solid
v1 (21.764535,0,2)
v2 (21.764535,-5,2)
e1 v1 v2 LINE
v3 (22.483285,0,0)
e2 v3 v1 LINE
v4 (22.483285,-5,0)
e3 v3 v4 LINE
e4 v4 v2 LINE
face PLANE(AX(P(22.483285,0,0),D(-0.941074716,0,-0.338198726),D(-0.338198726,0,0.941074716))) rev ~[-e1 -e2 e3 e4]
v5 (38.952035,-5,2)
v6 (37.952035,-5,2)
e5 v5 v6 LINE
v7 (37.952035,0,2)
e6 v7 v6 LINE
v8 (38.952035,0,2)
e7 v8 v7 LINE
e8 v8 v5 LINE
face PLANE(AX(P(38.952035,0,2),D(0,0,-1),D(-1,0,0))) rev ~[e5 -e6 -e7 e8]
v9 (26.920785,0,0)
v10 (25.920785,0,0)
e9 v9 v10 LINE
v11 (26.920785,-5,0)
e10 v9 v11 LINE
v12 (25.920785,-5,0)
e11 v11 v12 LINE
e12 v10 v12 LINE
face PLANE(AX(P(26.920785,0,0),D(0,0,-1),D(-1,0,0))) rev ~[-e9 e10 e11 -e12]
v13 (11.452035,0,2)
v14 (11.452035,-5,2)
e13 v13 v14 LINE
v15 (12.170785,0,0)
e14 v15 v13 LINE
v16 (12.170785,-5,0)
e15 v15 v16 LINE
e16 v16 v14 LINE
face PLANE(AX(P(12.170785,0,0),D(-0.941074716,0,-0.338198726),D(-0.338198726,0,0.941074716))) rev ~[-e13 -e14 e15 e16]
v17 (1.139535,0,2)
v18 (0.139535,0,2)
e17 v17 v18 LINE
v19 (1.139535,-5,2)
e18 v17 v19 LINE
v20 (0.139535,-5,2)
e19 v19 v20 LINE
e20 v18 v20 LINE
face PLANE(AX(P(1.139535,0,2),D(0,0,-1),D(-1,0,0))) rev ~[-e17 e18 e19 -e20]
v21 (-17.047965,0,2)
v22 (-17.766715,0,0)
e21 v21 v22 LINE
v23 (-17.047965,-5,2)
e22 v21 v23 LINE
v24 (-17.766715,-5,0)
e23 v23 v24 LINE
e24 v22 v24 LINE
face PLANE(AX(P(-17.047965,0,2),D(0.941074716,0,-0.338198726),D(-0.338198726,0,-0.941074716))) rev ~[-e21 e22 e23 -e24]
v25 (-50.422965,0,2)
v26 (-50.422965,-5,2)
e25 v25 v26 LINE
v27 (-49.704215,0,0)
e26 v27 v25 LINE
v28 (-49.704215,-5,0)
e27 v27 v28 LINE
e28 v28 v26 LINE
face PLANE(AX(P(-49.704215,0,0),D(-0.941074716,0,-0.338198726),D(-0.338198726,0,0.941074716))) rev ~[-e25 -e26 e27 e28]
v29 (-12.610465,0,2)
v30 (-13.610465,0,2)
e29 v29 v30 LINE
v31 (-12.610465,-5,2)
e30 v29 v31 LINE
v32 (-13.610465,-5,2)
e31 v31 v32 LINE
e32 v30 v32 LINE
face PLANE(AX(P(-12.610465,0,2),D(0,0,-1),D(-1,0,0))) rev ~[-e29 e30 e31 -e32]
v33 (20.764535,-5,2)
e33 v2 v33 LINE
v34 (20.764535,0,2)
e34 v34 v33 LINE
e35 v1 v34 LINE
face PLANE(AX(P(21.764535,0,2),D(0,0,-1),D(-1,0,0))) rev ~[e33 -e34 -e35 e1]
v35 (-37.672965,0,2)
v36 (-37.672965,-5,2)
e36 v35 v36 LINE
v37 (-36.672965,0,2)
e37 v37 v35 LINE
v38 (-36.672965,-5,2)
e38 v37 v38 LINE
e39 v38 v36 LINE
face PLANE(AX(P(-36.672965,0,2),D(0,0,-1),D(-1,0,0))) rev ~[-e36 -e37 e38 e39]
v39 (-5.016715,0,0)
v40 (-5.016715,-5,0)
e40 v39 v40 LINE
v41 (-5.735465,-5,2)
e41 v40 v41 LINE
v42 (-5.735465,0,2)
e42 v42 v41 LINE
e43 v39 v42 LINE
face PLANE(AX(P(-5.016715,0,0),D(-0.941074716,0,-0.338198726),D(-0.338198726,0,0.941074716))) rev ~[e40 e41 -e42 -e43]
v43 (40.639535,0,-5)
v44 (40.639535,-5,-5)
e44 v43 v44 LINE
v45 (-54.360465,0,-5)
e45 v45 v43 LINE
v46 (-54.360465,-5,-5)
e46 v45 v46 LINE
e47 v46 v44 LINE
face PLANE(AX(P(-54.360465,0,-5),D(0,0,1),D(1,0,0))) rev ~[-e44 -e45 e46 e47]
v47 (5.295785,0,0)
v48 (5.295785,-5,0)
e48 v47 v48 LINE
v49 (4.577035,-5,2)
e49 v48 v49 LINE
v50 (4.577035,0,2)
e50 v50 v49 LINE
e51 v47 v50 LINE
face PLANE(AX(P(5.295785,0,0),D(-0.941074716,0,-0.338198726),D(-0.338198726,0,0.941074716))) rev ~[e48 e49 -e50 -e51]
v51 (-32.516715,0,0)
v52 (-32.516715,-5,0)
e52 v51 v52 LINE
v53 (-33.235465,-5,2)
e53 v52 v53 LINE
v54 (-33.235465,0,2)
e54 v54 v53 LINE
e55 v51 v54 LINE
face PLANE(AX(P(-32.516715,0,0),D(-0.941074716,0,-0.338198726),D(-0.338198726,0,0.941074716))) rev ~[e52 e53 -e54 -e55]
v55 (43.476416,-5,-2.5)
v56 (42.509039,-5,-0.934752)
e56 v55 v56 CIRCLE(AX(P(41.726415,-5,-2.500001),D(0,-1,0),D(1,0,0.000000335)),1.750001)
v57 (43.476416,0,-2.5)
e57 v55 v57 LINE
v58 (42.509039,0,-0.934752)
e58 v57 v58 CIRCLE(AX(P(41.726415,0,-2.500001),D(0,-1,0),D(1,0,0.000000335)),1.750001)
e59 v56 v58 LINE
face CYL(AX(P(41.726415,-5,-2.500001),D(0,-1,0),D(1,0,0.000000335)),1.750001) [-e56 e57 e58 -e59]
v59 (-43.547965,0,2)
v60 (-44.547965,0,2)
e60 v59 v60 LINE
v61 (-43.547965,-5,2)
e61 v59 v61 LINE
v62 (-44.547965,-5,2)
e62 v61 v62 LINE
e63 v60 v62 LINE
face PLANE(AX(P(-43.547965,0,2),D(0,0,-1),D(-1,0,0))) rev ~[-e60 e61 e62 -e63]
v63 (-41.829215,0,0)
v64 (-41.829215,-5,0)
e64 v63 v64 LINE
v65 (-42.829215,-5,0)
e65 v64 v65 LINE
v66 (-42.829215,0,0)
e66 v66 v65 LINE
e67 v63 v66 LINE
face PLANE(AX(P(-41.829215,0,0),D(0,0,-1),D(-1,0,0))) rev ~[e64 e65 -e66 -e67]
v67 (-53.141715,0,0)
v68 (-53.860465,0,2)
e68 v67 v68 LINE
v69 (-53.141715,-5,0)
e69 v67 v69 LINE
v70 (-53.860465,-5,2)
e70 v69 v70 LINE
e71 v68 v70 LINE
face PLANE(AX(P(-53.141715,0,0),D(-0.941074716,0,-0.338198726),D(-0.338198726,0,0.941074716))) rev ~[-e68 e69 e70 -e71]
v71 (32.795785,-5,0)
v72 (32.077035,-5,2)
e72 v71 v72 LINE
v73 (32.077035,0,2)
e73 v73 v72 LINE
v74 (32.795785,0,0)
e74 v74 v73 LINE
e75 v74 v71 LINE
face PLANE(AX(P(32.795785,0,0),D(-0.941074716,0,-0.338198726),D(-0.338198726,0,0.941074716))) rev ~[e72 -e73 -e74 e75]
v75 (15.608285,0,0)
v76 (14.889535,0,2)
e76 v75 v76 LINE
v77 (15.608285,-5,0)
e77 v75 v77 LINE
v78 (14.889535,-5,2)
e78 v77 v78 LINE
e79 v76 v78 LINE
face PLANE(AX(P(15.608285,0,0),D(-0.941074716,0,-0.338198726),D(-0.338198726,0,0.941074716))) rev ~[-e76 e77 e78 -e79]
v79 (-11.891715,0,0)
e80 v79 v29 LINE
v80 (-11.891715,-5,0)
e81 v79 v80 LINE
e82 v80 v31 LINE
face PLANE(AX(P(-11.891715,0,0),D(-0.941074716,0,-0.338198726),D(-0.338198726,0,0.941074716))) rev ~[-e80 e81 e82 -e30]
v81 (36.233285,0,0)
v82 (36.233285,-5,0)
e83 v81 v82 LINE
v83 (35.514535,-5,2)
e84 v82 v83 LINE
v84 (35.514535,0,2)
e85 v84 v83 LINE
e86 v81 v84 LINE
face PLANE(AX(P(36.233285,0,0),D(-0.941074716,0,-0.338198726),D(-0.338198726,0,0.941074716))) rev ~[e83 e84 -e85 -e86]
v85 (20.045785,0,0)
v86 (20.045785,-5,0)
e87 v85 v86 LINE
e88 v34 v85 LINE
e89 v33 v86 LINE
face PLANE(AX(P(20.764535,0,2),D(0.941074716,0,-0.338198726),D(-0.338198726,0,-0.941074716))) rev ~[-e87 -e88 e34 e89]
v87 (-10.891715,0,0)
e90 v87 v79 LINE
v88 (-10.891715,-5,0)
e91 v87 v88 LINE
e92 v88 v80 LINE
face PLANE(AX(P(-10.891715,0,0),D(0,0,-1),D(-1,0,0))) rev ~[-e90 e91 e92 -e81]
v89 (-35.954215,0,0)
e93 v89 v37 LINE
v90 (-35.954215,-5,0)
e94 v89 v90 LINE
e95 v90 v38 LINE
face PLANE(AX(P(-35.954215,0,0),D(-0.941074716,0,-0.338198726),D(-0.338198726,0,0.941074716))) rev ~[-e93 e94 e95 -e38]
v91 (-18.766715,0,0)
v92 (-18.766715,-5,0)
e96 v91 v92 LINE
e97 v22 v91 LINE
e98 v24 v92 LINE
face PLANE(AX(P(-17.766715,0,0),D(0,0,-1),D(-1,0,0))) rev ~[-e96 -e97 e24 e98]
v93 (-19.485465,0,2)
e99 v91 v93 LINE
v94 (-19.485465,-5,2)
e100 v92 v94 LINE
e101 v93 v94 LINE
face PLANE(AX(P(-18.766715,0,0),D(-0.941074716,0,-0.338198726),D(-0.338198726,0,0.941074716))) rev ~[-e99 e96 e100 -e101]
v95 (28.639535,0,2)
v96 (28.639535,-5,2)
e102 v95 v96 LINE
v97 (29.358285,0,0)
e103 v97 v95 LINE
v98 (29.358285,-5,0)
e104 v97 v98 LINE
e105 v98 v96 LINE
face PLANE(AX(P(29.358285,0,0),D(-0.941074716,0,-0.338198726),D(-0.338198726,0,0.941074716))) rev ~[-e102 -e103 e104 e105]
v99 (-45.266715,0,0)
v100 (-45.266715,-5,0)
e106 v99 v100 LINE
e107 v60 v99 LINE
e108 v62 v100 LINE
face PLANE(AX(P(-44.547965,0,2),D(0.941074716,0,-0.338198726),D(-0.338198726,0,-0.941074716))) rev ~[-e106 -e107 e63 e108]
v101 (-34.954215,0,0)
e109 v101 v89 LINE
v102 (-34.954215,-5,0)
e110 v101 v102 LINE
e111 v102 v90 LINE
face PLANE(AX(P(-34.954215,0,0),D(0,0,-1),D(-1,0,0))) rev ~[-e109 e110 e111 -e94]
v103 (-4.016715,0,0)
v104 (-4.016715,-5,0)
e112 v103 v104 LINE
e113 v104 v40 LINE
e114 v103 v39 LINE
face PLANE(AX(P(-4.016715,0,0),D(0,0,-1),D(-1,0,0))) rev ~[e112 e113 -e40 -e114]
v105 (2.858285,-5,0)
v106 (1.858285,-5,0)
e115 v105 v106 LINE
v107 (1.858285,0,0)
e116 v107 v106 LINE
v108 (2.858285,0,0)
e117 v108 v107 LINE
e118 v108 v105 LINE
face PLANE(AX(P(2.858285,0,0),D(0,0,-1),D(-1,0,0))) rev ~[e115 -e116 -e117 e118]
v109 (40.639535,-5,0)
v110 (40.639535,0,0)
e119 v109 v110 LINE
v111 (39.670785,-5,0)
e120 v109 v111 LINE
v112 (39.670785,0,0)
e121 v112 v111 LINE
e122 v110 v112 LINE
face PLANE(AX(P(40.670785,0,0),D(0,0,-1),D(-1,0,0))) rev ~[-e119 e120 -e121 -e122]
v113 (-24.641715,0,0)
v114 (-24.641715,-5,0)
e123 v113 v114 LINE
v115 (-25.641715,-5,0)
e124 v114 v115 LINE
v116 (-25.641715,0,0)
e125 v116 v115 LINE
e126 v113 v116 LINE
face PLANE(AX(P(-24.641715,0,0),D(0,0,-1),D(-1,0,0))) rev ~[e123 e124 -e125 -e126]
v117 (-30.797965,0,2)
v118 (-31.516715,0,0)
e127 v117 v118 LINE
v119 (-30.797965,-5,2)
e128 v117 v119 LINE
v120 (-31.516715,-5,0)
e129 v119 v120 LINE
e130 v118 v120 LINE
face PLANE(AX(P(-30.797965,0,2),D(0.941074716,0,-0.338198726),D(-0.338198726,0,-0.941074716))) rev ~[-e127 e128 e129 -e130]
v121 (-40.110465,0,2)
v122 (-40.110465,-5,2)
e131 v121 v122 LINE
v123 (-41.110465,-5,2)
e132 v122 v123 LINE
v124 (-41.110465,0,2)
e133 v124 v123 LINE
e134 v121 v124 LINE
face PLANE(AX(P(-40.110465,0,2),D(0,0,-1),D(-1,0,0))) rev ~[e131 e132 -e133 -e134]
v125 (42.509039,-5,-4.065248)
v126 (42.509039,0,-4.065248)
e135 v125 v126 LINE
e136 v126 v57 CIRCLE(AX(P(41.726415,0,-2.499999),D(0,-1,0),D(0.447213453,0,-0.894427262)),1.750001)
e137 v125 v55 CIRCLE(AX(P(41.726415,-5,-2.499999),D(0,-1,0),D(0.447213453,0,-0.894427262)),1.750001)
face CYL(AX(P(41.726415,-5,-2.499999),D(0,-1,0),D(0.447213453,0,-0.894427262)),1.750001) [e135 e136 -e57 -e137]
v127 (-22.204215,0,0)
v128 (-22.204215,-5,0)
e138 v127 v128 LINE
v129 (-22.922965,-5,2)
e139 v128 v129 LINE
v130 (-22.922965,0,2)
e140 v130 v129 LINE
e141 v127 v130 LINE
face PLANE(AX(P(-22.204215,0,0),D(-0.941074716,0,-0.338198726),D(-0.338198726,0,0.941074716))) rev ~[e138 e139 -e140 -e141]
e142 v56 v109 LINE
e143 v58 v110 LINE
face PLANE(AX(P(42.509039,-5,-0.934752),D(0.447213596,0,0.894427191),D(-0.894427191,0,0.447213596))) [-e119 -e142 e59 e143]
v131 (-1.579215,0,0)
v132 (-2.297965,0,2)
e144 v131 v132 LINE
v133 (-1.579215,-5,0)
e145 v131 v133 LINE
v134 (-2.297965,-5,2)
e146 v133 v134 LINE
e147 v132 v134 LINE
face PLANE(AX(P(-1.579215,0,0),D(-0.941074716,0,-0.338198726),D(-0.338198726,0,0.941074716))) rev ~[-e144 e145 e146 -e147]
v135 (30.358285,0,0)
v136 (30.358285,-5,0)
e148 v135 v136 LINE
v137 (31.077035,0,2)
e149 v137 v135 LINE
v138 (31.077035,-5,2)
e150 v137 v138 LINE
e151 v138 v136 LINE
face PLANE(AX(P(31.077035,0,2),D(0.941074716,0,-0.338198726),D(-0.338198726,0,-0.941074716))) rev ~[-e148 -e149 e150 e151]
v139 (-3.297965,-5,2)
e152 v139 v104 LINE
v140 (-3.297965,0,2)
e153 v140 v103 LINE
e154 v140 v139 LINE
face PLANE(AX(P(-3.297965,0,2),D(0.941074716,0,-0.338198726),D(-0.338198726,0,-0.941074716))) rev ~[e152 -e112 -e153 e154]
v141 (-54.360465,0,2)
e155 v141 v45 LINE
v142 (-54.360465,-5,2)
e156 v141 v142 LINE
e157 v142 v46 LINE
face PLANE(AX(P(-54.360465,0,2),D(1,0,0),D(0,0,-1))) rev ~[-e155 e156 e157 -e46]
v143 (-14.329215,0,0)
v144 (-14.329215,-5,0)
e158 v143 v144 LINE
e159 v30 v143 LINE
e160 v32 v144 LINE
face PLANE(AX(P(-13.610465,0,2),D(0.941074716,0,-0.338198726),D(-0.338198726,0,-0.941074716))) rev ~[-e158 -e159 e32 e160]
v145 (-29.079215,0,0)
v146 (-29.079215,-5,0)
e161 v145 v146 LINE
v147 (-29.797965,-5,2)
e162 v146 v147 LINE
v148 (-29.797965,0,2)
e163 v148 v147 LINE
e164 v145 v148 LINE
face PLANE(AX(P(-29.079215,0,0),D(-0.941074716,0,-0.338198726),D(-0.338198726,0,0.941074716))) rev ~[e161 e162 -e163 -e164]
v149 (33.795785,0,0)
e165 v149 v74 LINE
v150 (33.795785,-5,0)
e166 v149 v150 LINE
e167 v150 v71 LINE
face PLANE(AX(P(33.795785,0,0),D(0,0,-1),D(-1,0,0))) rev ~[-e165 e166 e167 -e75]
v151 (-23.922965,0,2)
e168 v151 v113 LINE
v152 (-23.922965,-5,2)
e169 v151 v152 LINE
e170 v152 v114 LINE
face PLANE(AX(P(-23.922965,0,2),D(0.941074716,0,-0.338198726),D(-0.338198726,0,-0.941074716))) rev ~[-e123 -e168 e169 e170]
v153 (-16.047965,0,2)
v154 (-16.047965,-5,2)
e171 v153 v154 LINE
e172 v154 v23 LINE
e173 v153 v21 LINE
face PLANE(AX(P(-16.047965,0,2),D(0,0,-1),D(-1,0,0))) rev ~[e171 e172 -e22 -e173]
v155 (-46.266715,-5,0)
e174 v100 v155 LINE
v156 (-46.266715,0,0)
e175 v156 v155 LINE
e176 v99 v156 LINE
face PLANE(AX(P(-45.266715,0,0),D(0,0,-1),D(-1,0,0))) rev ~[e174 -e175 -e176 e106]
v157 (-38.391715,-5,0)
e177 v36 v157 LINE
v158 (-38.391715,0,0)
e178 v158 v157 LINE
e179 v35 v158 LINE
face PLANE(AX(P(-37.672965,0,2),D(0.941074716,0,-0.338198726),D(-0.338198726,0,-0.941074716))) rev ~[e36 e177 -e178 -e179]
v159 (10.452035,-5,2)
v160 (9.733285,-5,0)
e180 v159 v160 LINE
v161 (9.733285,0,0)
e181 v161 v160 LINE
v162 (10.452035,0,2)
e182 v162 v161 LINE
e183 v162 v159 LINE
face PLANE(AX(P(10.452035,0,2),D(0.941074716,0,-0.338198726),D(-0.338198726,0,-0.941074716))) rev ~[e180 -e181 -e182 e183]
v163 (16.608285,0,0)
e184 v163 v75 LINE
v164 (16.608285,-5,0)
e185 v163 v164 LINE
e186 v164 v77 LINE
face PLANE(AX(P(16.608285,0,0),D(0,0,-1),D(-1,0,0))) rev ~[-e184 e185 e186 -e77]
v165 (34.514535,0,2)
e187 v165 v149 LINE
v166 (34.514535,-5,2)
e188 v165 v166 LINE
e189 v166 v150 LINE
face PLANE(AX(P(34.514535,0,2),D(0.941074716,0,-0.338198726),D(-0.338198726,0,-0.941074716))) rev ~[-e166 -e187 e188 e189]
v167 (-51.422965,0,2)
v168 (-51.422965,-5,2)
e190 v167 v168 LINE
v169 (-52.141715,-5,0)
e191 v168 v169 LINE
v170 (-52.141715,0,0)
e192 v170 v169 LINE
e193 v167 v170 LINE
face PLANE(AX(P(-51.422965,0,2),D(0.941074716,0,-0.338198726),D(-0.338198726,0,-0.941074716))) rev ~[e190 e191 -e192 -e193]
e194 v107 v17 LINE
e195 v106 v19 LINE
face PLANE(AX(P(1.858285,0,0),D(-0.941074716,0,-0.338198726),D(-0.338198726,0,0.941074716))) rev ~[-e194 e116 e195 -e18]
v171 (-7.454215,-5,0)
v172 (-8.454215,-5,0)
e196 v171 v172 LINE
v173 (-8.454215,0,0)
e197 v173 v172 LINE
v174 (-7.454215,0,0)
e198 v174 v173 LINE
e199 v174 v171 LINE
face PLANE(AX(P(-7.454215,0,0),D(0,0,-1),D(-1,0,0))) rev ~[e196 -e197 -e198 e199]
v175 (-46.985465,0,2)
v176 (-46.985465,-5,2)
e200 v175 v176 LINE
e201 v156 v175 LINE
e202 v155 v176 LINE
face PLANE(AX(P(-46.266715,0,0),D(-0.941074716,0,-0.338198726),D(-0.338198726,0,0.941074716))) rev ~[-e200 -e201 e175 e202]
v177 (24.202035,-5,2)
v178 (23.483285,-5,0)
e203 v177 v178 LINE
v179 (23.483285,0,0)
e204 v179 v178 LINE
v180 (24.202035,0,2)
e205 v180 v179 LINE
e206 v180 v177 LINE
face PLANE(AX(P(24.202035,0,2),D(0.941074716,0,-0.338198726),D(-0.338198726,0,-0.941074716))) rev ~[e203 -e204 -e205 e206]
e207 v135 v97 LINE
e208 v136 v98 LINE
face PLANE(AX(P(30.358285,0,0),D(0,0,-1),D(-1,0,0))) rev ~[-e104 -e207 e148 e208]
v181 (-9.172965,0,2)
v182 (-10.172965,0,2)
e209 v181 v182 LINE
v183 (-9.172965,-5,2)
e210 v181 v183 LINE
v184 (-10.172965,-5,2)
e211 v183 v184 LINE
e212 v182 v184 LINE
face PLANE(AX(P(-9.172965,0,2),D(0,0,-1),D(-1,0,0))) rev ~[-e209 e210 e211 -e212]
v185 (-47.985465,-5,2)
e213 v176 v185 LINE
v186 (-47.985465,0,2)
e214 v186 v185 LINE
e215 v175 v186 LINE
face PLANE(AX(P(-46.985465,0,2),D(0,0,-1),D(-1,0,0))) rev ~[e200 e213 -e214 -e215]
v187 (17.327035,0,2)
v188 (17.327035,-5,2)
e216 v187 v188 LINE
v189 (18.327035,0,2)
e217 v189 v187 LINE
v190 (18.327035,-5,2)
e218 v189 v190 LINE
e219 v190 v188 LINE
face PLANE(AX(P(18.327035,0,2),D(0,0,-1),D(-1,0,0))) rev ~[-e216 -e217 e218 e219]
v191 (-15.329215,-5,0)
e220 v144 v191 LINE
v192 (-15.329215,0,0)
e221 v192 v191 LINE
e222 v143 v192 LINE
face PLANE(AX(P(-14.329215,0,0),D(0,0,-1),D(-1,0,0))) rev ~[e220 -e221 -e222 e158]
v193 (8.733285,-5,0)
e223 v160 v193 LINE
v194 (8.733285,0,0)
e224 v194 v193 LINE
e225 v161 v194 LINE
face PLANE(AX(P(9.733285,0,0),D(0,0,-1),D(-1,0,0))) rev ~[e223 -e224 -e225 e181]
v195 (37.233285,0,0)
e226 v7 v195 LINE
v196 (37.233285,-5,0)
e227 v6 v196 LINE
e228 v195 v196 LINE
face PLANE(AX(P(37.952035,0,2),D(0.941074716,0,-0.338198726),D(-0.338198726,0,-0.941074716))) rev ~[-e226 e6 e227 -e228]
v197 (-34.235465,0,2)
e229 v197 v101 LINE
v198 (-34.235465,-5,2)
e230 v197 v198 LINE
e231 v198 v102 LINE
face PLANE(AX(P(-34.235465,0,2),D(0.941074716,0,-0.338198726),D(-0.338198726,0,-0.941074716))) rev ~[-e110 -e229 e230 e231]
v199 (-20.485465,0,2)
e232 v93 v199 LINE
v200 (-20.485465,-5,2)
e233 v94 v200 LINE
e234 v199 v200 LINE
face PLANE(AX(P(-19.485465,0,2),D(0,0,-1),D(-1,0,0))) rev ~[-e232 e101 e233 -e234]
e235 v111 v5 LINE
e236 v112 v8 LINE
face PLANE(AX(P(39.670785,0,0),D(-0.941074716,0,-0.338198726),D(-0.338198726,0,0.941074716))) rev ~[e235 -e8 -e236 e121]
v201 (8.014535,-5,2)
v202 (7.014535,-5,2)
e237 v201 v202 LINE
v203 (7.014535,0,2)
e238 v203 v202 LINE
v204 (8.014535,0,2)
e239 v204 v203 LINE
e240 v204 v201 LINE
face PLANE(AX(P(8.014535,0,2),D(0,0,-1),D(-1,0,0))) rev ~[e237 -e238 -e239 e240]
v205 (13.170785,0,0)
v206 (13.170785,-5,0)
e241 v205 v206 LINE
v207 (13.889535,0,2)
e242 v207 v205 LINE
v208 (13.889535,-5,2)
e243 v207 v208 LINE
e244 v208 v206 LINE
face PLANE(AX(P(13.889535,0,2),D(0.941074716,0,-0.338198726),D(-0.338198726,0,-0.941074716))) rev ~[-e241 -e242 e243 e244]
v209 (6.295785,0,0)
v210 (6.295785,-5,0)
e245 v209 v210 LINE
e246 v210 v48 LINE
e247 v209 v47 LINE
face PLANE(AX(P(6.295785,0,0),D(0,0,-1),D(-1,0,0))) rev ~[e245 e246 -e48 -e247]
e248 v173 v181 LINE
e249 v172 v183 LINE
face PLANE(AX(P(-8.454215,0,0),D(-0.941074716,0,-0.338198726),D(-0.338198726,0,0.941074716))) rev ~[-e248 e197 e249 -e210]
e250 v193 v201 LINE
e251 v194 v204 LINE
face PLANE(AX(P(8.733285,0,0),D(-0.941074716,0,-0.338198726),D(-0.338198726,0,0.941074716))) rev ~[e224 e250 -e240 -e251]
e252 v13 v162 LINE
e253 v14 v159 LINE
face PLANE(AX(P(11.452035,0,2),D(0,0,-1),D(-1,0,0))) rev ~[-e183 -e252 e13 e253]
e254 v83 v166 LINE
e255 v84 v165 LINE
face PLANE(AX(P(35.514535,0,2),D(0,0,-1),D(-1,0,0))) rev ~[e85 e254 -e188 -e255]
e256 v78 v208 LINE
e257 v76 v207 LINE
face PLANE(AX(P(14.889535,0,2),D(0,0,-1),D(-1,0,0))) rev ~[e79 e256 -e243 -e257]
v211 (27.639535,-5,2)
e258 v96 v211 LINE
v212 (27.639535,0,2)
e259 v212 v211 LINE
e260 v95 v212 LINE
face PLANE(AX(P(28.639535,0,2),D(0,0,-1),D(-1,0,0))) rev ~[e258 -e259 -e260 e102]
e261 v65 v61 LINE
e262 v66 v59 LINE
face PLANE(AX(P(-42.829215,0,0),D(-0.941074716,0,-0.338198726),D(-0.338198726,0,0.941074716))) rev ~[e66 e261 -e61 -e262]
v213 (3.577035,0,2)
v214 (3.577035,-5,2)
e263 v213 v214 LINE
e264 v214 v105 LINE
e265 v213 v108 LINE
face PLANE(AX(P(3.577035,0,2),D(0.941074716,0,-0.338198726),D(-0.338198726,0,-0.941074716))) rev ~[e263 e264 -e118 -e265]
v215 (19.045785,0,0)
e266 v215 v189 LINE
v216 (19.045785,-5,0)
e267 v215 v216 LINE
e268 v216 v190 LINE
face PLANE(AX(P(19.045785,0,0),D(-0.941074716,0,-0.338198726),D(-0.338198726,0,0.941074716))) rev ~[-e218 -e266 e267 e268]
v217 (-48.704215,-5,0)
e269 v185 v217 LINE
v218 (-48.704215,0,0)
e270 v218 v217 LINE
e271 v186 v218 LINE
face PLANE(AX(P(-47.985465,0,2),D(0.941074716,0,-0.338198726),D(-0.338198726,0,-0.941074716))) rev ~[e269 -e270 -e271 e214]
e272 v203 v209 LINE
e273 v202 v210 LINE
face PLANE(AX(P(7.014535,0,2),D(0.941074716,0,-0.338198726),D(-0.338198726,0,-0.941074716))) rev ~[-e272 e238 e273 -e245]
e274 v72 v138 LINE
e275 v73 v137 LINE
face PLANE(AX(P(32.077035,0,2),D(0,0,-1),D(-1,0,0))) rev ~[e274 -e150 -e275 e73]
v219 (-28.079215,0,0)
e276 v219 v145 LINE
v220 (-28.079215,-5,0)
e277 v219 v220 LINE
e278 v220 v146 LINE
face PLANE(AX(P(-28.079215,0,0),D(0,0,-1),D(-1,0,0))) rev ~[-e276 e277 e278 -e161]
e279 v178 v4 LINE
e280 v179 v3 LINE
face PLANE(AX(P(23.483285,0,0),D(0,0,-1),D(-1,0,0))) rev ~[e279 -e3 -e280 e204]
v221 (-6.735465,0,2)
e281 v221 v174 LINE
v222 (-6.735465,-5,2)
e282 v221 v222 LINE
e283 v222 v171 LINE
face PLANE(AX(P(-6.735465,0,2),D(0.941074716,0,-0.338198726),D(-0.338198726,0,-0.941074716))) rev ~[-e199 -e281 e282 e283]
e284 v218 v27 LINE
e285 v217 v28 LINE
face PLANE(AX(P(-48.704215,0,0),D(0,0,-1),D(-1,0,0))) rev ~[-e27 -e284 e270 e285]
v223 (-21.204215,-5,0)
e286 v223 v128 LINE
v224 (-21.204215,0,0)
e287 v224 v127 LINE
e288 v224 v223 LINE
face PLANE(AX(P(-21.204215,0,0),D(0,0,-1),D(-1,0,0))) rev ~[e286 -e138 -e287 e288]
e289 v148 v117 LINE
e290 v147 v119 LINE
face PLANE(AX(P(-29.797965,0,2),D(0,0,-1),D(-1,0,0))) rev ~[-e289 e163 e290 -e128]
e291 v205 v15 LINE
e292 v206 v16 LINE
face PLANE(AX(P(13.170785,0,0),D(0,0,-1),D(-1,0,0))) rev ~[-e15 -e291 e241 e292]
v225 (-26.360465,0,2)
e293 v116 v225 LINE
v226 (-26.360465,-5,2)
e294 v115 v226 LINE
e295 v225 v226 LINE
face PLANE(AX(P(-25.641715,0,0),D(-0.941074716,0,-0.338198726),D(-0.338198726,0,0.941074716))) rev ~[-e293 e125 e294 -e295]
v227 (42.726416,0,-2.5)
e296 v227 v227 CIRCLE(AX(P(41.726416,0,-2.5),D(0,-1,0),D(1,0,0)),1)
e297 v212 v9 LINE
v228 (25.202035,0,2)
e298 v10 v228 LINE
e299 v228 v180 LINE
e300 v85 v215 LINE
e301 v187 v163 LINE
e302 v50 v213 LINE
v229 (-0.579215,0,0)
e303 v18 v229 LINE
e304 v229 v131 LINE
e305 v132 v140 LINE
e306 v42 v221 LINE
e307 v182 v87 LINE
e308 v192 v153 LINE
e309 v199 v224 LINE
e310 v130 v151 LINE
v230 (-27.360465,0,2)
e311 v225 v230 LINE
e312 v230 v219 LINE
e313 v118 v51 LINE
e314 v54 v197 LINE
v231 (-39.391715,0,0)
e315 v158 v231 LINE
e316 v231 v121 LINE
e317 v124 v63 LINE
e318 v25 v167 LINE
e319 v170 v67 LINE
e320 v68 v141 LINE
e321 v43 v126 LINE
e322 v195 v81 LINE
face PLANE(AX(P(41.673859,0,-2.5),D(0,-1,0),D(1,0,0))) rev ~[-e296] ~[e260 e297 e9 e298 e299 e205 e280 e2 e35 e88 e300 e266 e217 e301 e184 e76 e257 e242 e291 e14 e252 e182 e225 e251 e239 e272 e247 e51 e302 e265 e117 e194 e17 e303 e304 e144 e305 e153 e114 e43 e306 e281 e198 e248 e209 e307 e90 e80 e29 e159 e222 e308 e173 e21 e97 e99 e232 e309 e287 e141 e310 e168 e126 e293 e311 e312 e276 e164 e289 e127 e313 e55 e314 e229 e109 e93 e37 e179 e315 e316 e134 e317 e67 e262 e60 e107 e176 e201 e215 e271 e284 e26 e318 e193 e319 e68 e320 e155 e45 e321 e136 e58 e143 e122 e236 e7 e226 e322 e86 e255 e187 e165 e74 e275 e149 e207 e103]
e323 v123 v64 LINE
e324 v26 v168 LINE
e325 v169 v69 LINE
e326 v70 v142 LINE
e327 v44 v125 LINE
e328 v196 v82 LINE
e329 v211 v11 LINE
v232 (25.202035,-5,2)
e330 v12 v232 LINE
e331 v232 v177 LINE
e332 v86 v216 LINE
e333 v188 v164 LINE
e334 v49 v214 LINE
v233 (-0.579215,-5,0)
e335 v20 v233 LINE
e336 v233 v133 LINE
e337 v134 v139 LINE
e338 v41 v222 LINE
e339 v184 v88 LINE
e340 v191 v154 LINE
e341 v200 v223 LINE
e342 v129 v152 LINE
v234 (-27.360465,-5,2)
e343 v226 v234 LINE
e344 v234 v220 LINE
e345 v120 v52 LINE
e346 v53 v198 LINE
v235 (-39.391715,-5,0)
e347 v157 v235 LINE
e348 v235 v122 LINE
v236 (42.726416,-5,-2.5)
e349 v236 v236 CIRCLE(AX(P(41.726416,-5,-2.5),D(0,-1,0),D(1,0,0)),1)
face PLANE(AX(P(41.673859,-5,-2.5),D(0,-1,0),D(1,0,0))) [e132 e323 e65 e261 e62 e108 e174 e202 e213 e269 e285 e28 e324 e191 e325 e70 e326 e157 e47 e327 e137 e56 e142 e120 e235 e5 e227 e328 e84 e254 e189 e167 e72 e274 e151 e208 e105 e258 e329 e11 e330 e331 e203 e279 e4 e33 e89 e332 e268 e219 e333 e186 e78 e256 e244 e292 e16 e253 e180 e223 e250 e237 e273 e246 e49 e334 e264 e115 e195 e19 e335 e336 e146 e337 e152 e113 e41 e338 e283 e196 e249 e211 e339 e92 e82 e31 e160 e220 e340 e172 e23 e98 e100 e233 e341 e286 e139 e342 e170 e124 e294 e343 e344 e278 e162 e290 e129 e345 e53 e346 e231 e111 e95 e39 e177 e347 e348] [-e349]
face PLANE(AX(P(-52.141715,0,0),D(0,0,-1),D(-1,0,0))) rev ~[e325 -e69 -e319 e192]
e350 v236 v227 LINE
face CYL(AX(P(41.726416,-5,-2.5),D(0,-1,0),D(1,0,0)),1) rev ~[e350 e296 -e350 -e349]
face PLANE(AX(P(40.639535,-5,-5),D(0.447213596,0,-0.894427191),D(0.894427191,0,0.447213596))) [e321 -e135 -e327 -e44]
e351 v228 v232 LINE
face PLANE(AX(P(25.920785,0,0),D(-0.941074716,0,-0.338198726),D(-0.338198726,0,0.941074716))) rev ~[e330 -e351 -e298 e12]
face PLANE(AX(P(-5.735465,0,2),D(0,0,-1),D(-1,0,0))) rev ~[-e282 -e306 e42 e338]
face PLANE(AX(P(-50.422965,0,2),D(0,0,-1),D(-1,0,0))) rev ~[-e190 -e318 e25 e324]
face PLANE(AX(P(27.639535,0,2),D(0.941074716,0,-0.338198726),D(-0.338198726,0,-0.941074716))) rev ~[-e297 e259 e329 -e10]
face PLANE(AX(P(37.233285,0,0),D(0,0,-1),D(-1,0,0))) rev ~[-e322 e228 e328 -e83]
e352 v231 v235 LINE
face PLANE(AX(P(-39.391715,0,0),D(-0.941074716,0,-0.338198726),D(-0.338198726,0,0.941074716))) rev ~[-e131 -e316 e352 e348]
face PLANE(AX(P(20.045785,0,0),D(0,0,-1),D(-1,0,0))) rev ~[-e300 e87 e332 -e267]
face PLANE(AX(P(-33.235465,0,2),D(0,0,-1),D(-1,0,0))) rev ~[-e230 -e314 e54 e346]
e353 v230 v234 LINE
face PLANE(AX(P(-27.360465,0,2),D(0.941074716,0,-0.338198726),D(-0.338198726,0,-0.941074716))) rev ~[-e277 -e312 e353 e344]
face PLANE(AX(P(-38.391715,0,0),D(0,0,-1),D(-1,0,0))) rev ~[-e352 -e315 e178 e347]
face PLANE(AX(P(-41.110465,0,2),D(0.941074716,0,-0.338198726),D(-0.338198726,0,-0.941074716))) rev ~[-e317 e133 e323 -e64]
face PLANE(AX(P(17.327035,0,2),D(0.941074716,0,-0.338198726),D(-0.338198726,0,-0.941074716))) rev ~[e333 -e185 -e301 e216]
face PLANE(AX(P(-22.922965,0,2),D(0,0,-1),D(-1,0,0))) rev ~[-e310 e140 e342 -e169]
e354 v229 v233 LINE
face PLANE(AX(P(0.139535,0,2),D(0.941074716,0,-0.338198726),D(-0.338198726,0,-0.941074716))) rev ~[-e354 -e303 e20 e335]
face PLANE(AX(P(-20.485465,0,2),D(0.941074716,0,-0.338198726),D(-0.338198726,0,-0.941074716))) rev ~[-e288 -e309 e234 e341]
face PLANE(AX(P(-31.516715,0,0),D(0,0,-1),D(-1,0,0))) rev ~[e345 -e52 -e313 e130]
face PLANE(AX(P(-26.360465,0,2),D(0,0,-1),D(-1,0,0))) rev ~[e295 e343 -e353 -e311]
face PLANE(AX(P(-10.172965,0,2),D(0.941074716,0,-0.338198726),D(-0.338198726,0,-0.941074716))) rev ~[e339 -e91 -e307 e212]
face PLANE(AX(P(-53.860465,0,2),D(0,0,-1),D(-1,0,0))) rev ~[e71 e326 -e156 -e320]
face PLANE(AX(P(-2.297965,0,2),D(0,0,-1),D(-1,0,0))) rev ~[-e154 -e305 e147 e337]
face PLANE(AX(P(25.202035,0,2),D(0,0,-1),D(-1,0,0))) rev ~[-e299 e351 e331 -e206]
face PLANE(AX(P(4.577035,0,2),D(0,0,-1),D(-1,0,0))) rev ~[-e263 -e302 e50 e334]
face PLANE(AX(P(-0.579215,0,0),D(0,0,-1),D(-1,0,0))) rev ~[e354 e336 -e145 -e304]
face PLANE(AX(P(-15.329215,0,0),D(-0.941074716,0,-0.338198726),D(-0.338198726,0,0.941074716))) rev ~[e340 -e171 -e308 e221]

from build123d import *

# Parameters (mm, degrees)
F1_DEPTH = 5
F3_DEPTH = 25
F4_R     = 1
F5_DEPTH = 5


with BuildPart() as f1:
    # F0 (on Front) → F1 (new body)
    with BuildSketch(Plane.XZ):
        Polygon((-54.360465, 2), (-54.360465, 0), (-53.141715, 0), (-53.860465, 2), align=None)
        Polygon((-53.141715, 0), (-54.360465, 0), (-54.360465, -5), (55.639535, -5), (55.639535, 0), (54.420785, 0), (53.920785, 0), (53.420785, 0), (50.983285, 0), (50.483285, 0), (49.983285, 0), (47.545785, 0), (47.045785, 0), (46.545785, 0), (44.108285, 0), (43.608285, 0), (43.108285, 0), (40.670785, 0), (40.170785, 0), (39.670785, 0), (37.233285, 0), (36.733285, 0), (36.233285, 0), (33.795785, 0), (33.295785, 0), (32.795785, 0), (30.358285, 0), (29.858285, 0), (29.358285, 0), (26.920785, 0), (26.420785, 0), (25.920785, 0), (23.483285, 0), (22.983285, 0), (22.483285, 0), (20.045785, 0), (19.545785, 0), (19.045785, 0), (16.608285, 0), (16.108285, 0), (15.608285, 0), (13.170785, 0), (12.670785, 0), (12.170785, 0), (9.733285, 0), (9.233285, 0), (8.733285, 0), (6.295785, 0), (5.795785, 0), (5.295785, 0), (2.858285, 0), (2.358285, 0), (1.858285, 0), (-0.579215, 0), (-1.079215, 0), (-1.579215, 0), (-4.016715, 0), (-4.516715, 0), (-5.016715, 0), (-7.454215, 0), (-7.954215, 0), (-8.454215, 0), (-10.891715, 0), (-11.391715, 0), (-11.891715, 0), (-14.329215, 0), (-14.829215, 0), (-15.329215, 0), (-17.766715, 0), (-18.266715, 0), (-18.766715, 0), (-21.204215, 0), (-21.704215, 0), (-22.204215, 0), (-24.641715, 0), (-25.141715, 0), (-25.641715, 0), (-28.079215, 0), (-28.579215, 0), (-29.079215, 0), (-31.516715, 0), (-32.016715, 0), (-32.516715, 0), (-34.954215, 0), (-35.454215, 0), (-35.954215, 0), (-38.391715, 0), (-38.891715, 0), (-39.391715, 0), (-41.829215, 0), (-42.329215, 0), (-42.829215, 0), (-45.266715, 0), (-45.766715, 0), (-46.266715, 0), (-48.704215, 0), (-49.204215, 0), (-49.704215, 0), (-52.141715, 0), (-52.641715, 0), align=None)
        Polygon((-51.422965, 2), (-52.141715, 0), (-49.704215, 0), (-50.422965, 2), (-50.922965, 2), align=None)
        Polygon((54.420785, 0), (55.639535, 0), (55.639535, 2), (55.139535, 2), align=None)
        Polygon((-47.985465, 2), (-48.704215, 0), (-46.266715, 0), (-46.985465, 2), (-47.485465, 2), align=None)
        Polygon((50.983285, 0), (53.420785, 0), (52.702035, 2), (52.202035, 2), (51.702035, 2), align=None)
        Polygon((-44.547965, 2), (-45.266715, 0), (-42.829215, 0), (-43.547965, 2), (-44.047965, 2), align=None)
        Polygon((47.545785, 0), (49.983285, 0), (49.264535, 2), (48.764535, 2), (48.264535, 2), align=None)
        Polygon((-41.110465, 2), (-41.829215, 0), (-39.391715, 0), (-40.110465, 2), (-40.610465, 2), align=None)
        Polygon((44.108285, 0), (46.545785, 0), (45.827035, 2), (45.327035, 2), (44.827035, 2), align=None)
        Polygon((-37.672965, 2), (-38.391715, 0), (-35.954215, 0), (-36.672965, 2), (-37.172965, 2), align=None)
        Polygon((40.670785, 0), (43.108285, 0), (42.389535, 2), (41.889535, 2), (41.389535, 2), align=None)
        Polygon((-34.235465, 2), (-34.954215, 0), (-32.516715, 0), (-33.235465, 2), (-33.735465, 2), align=None)
        Polygon((37.233285, 0), (39.670785, 0), (38.952035, 2), (38.452035, 2), (37.952035, 2), align=None)
        Polygon((-30.797965, 2), (-31.516715, 0), (-29.079215, 0), (-29.797965, 2), (-30.297965, 2), align=None)
        Polygon((33.795785, 0), (36.233285, 0), (35.514535, 2), (35.014535, 2), (34.514535, 2), align=None)
        Polygon((-27.360465, 2), (-28.079215, 0), (-25.641715, 0), (-26.360465, 2), (-26.860465, 2), align=None)
        Polygon((30.358285, 0), (32.795785, 0), (32.077035, 2), (31.577035, 2), (31.077035, 2), align=None)
        Polygon((-23.922965, 2), (-24.641715, 0), (-22.204215, 0), (-22.922965, 2), (-23.422965, 2), align=None)
        Polygon((26.920785, 0), (29.358285, 0), (28.639535, 2), (28.139535, 2), (27.639535, 2), align=None)
        Polygon((-20.485465, 2), (-21.204215, 0), (-18.766715, 0), (-19.485465, 2), (-19.985465, 2), align=None)
        Polygon((23.483285, 0), (25.920785, 0), (25.202035, 2), (24.702035, 2), (24.202035, 2), align=None)
        Polygon((-17.047965, 2), (-17.766715, 0), (-15.329215, 0), (-16.047965, 2), (-16.547965, 2), align=None)
        Polygon((20.045785, 0), (22.483285, 0), (21.764535, 2), (21.264535, 2), (20.764535, 2), align=None)
        Polygon((-13.610465, 2), (-14.329215, 0), (-11.891715, 0), (-12.610465, 2), (-13.110465, 2), align=None)
        Polygon((16.608285, 0), (19.045785, 0), (18.327035, 2), (17.827035, 2), (17.327035, 2), align=None)
        Polygon((-10.172965, 2), (-10.891715, 0), (-8.454215, 0), (-9.172965, 2), (-9.672965, 2), align=None)
        Polygon((13.170785, 0), (15.608285, 0), (14.889535, 2), (14.389535, 2), (13.889535, 2), align=None)
        Polygon((-6.735465, 2), (-7.454215, 0), (-5.016715, 0), (-5.735465, 2), (-6.235465, 2), align=None)
        Polygon((9.733285, 0), (12.170785, 0), (11.452035, 2), (10.952035, 2), (10.452035, 2), align=None)
        Polygon((-3.297965, 2), (-4.016715, 0), (-1.579215, 0), (-2.297965, 2), (-2.797965, 2), align=None)
        Polygon((6.295785, 0), (8.733285, 0), (8.014535, 2), (7.514535, 2), (7.014535, 2), align=None)
        Polygon((0.139535, 2), (-0.579215, 0), (1.858285, 0), (1.139535, 2), (0.639535, 2), align=None)
        Polygon((2.858285, 0), (5.295785, 0), (4.577035, 2), (4.077035, 2), (3.577035, 2), align=None)
    extrude(amount=F1_DEPTH)

    # F2 (on face) → F3 (cut)
    with BuildSketch(Plane.XZ.offset(5)):
        Polygon((40.639535, 9.693892), (40.639535, -5), (40.639535, -8.513346), (59.679061, -8.513346), (59.679061, 9.693892), align=None)
    extrude(amount=-F3_DEPTH, mode=Mode.SUBTRACT)

    # F4 (on face) → F5 (join, through all)
    with BuildSketch(Plane.XZ.offset(5)):
        with BuildLine():
            Line((40.639535, 0), (40.639535, -5))
            Line((40.639535, -5), (42.509039, -4.065248))
            ThreePointArc((42.509039, -4.065248), (43.215055, -3.420029), (43.476416, -2.5))
            ThreePointArc((43.476416, -2.5), (43.215055, -1.579971), (42.509039, -0.934752))
            Line((42.509039, -0.934752), (40.639535, 0))
        make_face()
        with Locations((41.726416, -2.5)):
            Circle(F4_R, mode=Mode.SUBTRACT)
    extrude(amount=-F5_DEPTH)


solid = f1.part
